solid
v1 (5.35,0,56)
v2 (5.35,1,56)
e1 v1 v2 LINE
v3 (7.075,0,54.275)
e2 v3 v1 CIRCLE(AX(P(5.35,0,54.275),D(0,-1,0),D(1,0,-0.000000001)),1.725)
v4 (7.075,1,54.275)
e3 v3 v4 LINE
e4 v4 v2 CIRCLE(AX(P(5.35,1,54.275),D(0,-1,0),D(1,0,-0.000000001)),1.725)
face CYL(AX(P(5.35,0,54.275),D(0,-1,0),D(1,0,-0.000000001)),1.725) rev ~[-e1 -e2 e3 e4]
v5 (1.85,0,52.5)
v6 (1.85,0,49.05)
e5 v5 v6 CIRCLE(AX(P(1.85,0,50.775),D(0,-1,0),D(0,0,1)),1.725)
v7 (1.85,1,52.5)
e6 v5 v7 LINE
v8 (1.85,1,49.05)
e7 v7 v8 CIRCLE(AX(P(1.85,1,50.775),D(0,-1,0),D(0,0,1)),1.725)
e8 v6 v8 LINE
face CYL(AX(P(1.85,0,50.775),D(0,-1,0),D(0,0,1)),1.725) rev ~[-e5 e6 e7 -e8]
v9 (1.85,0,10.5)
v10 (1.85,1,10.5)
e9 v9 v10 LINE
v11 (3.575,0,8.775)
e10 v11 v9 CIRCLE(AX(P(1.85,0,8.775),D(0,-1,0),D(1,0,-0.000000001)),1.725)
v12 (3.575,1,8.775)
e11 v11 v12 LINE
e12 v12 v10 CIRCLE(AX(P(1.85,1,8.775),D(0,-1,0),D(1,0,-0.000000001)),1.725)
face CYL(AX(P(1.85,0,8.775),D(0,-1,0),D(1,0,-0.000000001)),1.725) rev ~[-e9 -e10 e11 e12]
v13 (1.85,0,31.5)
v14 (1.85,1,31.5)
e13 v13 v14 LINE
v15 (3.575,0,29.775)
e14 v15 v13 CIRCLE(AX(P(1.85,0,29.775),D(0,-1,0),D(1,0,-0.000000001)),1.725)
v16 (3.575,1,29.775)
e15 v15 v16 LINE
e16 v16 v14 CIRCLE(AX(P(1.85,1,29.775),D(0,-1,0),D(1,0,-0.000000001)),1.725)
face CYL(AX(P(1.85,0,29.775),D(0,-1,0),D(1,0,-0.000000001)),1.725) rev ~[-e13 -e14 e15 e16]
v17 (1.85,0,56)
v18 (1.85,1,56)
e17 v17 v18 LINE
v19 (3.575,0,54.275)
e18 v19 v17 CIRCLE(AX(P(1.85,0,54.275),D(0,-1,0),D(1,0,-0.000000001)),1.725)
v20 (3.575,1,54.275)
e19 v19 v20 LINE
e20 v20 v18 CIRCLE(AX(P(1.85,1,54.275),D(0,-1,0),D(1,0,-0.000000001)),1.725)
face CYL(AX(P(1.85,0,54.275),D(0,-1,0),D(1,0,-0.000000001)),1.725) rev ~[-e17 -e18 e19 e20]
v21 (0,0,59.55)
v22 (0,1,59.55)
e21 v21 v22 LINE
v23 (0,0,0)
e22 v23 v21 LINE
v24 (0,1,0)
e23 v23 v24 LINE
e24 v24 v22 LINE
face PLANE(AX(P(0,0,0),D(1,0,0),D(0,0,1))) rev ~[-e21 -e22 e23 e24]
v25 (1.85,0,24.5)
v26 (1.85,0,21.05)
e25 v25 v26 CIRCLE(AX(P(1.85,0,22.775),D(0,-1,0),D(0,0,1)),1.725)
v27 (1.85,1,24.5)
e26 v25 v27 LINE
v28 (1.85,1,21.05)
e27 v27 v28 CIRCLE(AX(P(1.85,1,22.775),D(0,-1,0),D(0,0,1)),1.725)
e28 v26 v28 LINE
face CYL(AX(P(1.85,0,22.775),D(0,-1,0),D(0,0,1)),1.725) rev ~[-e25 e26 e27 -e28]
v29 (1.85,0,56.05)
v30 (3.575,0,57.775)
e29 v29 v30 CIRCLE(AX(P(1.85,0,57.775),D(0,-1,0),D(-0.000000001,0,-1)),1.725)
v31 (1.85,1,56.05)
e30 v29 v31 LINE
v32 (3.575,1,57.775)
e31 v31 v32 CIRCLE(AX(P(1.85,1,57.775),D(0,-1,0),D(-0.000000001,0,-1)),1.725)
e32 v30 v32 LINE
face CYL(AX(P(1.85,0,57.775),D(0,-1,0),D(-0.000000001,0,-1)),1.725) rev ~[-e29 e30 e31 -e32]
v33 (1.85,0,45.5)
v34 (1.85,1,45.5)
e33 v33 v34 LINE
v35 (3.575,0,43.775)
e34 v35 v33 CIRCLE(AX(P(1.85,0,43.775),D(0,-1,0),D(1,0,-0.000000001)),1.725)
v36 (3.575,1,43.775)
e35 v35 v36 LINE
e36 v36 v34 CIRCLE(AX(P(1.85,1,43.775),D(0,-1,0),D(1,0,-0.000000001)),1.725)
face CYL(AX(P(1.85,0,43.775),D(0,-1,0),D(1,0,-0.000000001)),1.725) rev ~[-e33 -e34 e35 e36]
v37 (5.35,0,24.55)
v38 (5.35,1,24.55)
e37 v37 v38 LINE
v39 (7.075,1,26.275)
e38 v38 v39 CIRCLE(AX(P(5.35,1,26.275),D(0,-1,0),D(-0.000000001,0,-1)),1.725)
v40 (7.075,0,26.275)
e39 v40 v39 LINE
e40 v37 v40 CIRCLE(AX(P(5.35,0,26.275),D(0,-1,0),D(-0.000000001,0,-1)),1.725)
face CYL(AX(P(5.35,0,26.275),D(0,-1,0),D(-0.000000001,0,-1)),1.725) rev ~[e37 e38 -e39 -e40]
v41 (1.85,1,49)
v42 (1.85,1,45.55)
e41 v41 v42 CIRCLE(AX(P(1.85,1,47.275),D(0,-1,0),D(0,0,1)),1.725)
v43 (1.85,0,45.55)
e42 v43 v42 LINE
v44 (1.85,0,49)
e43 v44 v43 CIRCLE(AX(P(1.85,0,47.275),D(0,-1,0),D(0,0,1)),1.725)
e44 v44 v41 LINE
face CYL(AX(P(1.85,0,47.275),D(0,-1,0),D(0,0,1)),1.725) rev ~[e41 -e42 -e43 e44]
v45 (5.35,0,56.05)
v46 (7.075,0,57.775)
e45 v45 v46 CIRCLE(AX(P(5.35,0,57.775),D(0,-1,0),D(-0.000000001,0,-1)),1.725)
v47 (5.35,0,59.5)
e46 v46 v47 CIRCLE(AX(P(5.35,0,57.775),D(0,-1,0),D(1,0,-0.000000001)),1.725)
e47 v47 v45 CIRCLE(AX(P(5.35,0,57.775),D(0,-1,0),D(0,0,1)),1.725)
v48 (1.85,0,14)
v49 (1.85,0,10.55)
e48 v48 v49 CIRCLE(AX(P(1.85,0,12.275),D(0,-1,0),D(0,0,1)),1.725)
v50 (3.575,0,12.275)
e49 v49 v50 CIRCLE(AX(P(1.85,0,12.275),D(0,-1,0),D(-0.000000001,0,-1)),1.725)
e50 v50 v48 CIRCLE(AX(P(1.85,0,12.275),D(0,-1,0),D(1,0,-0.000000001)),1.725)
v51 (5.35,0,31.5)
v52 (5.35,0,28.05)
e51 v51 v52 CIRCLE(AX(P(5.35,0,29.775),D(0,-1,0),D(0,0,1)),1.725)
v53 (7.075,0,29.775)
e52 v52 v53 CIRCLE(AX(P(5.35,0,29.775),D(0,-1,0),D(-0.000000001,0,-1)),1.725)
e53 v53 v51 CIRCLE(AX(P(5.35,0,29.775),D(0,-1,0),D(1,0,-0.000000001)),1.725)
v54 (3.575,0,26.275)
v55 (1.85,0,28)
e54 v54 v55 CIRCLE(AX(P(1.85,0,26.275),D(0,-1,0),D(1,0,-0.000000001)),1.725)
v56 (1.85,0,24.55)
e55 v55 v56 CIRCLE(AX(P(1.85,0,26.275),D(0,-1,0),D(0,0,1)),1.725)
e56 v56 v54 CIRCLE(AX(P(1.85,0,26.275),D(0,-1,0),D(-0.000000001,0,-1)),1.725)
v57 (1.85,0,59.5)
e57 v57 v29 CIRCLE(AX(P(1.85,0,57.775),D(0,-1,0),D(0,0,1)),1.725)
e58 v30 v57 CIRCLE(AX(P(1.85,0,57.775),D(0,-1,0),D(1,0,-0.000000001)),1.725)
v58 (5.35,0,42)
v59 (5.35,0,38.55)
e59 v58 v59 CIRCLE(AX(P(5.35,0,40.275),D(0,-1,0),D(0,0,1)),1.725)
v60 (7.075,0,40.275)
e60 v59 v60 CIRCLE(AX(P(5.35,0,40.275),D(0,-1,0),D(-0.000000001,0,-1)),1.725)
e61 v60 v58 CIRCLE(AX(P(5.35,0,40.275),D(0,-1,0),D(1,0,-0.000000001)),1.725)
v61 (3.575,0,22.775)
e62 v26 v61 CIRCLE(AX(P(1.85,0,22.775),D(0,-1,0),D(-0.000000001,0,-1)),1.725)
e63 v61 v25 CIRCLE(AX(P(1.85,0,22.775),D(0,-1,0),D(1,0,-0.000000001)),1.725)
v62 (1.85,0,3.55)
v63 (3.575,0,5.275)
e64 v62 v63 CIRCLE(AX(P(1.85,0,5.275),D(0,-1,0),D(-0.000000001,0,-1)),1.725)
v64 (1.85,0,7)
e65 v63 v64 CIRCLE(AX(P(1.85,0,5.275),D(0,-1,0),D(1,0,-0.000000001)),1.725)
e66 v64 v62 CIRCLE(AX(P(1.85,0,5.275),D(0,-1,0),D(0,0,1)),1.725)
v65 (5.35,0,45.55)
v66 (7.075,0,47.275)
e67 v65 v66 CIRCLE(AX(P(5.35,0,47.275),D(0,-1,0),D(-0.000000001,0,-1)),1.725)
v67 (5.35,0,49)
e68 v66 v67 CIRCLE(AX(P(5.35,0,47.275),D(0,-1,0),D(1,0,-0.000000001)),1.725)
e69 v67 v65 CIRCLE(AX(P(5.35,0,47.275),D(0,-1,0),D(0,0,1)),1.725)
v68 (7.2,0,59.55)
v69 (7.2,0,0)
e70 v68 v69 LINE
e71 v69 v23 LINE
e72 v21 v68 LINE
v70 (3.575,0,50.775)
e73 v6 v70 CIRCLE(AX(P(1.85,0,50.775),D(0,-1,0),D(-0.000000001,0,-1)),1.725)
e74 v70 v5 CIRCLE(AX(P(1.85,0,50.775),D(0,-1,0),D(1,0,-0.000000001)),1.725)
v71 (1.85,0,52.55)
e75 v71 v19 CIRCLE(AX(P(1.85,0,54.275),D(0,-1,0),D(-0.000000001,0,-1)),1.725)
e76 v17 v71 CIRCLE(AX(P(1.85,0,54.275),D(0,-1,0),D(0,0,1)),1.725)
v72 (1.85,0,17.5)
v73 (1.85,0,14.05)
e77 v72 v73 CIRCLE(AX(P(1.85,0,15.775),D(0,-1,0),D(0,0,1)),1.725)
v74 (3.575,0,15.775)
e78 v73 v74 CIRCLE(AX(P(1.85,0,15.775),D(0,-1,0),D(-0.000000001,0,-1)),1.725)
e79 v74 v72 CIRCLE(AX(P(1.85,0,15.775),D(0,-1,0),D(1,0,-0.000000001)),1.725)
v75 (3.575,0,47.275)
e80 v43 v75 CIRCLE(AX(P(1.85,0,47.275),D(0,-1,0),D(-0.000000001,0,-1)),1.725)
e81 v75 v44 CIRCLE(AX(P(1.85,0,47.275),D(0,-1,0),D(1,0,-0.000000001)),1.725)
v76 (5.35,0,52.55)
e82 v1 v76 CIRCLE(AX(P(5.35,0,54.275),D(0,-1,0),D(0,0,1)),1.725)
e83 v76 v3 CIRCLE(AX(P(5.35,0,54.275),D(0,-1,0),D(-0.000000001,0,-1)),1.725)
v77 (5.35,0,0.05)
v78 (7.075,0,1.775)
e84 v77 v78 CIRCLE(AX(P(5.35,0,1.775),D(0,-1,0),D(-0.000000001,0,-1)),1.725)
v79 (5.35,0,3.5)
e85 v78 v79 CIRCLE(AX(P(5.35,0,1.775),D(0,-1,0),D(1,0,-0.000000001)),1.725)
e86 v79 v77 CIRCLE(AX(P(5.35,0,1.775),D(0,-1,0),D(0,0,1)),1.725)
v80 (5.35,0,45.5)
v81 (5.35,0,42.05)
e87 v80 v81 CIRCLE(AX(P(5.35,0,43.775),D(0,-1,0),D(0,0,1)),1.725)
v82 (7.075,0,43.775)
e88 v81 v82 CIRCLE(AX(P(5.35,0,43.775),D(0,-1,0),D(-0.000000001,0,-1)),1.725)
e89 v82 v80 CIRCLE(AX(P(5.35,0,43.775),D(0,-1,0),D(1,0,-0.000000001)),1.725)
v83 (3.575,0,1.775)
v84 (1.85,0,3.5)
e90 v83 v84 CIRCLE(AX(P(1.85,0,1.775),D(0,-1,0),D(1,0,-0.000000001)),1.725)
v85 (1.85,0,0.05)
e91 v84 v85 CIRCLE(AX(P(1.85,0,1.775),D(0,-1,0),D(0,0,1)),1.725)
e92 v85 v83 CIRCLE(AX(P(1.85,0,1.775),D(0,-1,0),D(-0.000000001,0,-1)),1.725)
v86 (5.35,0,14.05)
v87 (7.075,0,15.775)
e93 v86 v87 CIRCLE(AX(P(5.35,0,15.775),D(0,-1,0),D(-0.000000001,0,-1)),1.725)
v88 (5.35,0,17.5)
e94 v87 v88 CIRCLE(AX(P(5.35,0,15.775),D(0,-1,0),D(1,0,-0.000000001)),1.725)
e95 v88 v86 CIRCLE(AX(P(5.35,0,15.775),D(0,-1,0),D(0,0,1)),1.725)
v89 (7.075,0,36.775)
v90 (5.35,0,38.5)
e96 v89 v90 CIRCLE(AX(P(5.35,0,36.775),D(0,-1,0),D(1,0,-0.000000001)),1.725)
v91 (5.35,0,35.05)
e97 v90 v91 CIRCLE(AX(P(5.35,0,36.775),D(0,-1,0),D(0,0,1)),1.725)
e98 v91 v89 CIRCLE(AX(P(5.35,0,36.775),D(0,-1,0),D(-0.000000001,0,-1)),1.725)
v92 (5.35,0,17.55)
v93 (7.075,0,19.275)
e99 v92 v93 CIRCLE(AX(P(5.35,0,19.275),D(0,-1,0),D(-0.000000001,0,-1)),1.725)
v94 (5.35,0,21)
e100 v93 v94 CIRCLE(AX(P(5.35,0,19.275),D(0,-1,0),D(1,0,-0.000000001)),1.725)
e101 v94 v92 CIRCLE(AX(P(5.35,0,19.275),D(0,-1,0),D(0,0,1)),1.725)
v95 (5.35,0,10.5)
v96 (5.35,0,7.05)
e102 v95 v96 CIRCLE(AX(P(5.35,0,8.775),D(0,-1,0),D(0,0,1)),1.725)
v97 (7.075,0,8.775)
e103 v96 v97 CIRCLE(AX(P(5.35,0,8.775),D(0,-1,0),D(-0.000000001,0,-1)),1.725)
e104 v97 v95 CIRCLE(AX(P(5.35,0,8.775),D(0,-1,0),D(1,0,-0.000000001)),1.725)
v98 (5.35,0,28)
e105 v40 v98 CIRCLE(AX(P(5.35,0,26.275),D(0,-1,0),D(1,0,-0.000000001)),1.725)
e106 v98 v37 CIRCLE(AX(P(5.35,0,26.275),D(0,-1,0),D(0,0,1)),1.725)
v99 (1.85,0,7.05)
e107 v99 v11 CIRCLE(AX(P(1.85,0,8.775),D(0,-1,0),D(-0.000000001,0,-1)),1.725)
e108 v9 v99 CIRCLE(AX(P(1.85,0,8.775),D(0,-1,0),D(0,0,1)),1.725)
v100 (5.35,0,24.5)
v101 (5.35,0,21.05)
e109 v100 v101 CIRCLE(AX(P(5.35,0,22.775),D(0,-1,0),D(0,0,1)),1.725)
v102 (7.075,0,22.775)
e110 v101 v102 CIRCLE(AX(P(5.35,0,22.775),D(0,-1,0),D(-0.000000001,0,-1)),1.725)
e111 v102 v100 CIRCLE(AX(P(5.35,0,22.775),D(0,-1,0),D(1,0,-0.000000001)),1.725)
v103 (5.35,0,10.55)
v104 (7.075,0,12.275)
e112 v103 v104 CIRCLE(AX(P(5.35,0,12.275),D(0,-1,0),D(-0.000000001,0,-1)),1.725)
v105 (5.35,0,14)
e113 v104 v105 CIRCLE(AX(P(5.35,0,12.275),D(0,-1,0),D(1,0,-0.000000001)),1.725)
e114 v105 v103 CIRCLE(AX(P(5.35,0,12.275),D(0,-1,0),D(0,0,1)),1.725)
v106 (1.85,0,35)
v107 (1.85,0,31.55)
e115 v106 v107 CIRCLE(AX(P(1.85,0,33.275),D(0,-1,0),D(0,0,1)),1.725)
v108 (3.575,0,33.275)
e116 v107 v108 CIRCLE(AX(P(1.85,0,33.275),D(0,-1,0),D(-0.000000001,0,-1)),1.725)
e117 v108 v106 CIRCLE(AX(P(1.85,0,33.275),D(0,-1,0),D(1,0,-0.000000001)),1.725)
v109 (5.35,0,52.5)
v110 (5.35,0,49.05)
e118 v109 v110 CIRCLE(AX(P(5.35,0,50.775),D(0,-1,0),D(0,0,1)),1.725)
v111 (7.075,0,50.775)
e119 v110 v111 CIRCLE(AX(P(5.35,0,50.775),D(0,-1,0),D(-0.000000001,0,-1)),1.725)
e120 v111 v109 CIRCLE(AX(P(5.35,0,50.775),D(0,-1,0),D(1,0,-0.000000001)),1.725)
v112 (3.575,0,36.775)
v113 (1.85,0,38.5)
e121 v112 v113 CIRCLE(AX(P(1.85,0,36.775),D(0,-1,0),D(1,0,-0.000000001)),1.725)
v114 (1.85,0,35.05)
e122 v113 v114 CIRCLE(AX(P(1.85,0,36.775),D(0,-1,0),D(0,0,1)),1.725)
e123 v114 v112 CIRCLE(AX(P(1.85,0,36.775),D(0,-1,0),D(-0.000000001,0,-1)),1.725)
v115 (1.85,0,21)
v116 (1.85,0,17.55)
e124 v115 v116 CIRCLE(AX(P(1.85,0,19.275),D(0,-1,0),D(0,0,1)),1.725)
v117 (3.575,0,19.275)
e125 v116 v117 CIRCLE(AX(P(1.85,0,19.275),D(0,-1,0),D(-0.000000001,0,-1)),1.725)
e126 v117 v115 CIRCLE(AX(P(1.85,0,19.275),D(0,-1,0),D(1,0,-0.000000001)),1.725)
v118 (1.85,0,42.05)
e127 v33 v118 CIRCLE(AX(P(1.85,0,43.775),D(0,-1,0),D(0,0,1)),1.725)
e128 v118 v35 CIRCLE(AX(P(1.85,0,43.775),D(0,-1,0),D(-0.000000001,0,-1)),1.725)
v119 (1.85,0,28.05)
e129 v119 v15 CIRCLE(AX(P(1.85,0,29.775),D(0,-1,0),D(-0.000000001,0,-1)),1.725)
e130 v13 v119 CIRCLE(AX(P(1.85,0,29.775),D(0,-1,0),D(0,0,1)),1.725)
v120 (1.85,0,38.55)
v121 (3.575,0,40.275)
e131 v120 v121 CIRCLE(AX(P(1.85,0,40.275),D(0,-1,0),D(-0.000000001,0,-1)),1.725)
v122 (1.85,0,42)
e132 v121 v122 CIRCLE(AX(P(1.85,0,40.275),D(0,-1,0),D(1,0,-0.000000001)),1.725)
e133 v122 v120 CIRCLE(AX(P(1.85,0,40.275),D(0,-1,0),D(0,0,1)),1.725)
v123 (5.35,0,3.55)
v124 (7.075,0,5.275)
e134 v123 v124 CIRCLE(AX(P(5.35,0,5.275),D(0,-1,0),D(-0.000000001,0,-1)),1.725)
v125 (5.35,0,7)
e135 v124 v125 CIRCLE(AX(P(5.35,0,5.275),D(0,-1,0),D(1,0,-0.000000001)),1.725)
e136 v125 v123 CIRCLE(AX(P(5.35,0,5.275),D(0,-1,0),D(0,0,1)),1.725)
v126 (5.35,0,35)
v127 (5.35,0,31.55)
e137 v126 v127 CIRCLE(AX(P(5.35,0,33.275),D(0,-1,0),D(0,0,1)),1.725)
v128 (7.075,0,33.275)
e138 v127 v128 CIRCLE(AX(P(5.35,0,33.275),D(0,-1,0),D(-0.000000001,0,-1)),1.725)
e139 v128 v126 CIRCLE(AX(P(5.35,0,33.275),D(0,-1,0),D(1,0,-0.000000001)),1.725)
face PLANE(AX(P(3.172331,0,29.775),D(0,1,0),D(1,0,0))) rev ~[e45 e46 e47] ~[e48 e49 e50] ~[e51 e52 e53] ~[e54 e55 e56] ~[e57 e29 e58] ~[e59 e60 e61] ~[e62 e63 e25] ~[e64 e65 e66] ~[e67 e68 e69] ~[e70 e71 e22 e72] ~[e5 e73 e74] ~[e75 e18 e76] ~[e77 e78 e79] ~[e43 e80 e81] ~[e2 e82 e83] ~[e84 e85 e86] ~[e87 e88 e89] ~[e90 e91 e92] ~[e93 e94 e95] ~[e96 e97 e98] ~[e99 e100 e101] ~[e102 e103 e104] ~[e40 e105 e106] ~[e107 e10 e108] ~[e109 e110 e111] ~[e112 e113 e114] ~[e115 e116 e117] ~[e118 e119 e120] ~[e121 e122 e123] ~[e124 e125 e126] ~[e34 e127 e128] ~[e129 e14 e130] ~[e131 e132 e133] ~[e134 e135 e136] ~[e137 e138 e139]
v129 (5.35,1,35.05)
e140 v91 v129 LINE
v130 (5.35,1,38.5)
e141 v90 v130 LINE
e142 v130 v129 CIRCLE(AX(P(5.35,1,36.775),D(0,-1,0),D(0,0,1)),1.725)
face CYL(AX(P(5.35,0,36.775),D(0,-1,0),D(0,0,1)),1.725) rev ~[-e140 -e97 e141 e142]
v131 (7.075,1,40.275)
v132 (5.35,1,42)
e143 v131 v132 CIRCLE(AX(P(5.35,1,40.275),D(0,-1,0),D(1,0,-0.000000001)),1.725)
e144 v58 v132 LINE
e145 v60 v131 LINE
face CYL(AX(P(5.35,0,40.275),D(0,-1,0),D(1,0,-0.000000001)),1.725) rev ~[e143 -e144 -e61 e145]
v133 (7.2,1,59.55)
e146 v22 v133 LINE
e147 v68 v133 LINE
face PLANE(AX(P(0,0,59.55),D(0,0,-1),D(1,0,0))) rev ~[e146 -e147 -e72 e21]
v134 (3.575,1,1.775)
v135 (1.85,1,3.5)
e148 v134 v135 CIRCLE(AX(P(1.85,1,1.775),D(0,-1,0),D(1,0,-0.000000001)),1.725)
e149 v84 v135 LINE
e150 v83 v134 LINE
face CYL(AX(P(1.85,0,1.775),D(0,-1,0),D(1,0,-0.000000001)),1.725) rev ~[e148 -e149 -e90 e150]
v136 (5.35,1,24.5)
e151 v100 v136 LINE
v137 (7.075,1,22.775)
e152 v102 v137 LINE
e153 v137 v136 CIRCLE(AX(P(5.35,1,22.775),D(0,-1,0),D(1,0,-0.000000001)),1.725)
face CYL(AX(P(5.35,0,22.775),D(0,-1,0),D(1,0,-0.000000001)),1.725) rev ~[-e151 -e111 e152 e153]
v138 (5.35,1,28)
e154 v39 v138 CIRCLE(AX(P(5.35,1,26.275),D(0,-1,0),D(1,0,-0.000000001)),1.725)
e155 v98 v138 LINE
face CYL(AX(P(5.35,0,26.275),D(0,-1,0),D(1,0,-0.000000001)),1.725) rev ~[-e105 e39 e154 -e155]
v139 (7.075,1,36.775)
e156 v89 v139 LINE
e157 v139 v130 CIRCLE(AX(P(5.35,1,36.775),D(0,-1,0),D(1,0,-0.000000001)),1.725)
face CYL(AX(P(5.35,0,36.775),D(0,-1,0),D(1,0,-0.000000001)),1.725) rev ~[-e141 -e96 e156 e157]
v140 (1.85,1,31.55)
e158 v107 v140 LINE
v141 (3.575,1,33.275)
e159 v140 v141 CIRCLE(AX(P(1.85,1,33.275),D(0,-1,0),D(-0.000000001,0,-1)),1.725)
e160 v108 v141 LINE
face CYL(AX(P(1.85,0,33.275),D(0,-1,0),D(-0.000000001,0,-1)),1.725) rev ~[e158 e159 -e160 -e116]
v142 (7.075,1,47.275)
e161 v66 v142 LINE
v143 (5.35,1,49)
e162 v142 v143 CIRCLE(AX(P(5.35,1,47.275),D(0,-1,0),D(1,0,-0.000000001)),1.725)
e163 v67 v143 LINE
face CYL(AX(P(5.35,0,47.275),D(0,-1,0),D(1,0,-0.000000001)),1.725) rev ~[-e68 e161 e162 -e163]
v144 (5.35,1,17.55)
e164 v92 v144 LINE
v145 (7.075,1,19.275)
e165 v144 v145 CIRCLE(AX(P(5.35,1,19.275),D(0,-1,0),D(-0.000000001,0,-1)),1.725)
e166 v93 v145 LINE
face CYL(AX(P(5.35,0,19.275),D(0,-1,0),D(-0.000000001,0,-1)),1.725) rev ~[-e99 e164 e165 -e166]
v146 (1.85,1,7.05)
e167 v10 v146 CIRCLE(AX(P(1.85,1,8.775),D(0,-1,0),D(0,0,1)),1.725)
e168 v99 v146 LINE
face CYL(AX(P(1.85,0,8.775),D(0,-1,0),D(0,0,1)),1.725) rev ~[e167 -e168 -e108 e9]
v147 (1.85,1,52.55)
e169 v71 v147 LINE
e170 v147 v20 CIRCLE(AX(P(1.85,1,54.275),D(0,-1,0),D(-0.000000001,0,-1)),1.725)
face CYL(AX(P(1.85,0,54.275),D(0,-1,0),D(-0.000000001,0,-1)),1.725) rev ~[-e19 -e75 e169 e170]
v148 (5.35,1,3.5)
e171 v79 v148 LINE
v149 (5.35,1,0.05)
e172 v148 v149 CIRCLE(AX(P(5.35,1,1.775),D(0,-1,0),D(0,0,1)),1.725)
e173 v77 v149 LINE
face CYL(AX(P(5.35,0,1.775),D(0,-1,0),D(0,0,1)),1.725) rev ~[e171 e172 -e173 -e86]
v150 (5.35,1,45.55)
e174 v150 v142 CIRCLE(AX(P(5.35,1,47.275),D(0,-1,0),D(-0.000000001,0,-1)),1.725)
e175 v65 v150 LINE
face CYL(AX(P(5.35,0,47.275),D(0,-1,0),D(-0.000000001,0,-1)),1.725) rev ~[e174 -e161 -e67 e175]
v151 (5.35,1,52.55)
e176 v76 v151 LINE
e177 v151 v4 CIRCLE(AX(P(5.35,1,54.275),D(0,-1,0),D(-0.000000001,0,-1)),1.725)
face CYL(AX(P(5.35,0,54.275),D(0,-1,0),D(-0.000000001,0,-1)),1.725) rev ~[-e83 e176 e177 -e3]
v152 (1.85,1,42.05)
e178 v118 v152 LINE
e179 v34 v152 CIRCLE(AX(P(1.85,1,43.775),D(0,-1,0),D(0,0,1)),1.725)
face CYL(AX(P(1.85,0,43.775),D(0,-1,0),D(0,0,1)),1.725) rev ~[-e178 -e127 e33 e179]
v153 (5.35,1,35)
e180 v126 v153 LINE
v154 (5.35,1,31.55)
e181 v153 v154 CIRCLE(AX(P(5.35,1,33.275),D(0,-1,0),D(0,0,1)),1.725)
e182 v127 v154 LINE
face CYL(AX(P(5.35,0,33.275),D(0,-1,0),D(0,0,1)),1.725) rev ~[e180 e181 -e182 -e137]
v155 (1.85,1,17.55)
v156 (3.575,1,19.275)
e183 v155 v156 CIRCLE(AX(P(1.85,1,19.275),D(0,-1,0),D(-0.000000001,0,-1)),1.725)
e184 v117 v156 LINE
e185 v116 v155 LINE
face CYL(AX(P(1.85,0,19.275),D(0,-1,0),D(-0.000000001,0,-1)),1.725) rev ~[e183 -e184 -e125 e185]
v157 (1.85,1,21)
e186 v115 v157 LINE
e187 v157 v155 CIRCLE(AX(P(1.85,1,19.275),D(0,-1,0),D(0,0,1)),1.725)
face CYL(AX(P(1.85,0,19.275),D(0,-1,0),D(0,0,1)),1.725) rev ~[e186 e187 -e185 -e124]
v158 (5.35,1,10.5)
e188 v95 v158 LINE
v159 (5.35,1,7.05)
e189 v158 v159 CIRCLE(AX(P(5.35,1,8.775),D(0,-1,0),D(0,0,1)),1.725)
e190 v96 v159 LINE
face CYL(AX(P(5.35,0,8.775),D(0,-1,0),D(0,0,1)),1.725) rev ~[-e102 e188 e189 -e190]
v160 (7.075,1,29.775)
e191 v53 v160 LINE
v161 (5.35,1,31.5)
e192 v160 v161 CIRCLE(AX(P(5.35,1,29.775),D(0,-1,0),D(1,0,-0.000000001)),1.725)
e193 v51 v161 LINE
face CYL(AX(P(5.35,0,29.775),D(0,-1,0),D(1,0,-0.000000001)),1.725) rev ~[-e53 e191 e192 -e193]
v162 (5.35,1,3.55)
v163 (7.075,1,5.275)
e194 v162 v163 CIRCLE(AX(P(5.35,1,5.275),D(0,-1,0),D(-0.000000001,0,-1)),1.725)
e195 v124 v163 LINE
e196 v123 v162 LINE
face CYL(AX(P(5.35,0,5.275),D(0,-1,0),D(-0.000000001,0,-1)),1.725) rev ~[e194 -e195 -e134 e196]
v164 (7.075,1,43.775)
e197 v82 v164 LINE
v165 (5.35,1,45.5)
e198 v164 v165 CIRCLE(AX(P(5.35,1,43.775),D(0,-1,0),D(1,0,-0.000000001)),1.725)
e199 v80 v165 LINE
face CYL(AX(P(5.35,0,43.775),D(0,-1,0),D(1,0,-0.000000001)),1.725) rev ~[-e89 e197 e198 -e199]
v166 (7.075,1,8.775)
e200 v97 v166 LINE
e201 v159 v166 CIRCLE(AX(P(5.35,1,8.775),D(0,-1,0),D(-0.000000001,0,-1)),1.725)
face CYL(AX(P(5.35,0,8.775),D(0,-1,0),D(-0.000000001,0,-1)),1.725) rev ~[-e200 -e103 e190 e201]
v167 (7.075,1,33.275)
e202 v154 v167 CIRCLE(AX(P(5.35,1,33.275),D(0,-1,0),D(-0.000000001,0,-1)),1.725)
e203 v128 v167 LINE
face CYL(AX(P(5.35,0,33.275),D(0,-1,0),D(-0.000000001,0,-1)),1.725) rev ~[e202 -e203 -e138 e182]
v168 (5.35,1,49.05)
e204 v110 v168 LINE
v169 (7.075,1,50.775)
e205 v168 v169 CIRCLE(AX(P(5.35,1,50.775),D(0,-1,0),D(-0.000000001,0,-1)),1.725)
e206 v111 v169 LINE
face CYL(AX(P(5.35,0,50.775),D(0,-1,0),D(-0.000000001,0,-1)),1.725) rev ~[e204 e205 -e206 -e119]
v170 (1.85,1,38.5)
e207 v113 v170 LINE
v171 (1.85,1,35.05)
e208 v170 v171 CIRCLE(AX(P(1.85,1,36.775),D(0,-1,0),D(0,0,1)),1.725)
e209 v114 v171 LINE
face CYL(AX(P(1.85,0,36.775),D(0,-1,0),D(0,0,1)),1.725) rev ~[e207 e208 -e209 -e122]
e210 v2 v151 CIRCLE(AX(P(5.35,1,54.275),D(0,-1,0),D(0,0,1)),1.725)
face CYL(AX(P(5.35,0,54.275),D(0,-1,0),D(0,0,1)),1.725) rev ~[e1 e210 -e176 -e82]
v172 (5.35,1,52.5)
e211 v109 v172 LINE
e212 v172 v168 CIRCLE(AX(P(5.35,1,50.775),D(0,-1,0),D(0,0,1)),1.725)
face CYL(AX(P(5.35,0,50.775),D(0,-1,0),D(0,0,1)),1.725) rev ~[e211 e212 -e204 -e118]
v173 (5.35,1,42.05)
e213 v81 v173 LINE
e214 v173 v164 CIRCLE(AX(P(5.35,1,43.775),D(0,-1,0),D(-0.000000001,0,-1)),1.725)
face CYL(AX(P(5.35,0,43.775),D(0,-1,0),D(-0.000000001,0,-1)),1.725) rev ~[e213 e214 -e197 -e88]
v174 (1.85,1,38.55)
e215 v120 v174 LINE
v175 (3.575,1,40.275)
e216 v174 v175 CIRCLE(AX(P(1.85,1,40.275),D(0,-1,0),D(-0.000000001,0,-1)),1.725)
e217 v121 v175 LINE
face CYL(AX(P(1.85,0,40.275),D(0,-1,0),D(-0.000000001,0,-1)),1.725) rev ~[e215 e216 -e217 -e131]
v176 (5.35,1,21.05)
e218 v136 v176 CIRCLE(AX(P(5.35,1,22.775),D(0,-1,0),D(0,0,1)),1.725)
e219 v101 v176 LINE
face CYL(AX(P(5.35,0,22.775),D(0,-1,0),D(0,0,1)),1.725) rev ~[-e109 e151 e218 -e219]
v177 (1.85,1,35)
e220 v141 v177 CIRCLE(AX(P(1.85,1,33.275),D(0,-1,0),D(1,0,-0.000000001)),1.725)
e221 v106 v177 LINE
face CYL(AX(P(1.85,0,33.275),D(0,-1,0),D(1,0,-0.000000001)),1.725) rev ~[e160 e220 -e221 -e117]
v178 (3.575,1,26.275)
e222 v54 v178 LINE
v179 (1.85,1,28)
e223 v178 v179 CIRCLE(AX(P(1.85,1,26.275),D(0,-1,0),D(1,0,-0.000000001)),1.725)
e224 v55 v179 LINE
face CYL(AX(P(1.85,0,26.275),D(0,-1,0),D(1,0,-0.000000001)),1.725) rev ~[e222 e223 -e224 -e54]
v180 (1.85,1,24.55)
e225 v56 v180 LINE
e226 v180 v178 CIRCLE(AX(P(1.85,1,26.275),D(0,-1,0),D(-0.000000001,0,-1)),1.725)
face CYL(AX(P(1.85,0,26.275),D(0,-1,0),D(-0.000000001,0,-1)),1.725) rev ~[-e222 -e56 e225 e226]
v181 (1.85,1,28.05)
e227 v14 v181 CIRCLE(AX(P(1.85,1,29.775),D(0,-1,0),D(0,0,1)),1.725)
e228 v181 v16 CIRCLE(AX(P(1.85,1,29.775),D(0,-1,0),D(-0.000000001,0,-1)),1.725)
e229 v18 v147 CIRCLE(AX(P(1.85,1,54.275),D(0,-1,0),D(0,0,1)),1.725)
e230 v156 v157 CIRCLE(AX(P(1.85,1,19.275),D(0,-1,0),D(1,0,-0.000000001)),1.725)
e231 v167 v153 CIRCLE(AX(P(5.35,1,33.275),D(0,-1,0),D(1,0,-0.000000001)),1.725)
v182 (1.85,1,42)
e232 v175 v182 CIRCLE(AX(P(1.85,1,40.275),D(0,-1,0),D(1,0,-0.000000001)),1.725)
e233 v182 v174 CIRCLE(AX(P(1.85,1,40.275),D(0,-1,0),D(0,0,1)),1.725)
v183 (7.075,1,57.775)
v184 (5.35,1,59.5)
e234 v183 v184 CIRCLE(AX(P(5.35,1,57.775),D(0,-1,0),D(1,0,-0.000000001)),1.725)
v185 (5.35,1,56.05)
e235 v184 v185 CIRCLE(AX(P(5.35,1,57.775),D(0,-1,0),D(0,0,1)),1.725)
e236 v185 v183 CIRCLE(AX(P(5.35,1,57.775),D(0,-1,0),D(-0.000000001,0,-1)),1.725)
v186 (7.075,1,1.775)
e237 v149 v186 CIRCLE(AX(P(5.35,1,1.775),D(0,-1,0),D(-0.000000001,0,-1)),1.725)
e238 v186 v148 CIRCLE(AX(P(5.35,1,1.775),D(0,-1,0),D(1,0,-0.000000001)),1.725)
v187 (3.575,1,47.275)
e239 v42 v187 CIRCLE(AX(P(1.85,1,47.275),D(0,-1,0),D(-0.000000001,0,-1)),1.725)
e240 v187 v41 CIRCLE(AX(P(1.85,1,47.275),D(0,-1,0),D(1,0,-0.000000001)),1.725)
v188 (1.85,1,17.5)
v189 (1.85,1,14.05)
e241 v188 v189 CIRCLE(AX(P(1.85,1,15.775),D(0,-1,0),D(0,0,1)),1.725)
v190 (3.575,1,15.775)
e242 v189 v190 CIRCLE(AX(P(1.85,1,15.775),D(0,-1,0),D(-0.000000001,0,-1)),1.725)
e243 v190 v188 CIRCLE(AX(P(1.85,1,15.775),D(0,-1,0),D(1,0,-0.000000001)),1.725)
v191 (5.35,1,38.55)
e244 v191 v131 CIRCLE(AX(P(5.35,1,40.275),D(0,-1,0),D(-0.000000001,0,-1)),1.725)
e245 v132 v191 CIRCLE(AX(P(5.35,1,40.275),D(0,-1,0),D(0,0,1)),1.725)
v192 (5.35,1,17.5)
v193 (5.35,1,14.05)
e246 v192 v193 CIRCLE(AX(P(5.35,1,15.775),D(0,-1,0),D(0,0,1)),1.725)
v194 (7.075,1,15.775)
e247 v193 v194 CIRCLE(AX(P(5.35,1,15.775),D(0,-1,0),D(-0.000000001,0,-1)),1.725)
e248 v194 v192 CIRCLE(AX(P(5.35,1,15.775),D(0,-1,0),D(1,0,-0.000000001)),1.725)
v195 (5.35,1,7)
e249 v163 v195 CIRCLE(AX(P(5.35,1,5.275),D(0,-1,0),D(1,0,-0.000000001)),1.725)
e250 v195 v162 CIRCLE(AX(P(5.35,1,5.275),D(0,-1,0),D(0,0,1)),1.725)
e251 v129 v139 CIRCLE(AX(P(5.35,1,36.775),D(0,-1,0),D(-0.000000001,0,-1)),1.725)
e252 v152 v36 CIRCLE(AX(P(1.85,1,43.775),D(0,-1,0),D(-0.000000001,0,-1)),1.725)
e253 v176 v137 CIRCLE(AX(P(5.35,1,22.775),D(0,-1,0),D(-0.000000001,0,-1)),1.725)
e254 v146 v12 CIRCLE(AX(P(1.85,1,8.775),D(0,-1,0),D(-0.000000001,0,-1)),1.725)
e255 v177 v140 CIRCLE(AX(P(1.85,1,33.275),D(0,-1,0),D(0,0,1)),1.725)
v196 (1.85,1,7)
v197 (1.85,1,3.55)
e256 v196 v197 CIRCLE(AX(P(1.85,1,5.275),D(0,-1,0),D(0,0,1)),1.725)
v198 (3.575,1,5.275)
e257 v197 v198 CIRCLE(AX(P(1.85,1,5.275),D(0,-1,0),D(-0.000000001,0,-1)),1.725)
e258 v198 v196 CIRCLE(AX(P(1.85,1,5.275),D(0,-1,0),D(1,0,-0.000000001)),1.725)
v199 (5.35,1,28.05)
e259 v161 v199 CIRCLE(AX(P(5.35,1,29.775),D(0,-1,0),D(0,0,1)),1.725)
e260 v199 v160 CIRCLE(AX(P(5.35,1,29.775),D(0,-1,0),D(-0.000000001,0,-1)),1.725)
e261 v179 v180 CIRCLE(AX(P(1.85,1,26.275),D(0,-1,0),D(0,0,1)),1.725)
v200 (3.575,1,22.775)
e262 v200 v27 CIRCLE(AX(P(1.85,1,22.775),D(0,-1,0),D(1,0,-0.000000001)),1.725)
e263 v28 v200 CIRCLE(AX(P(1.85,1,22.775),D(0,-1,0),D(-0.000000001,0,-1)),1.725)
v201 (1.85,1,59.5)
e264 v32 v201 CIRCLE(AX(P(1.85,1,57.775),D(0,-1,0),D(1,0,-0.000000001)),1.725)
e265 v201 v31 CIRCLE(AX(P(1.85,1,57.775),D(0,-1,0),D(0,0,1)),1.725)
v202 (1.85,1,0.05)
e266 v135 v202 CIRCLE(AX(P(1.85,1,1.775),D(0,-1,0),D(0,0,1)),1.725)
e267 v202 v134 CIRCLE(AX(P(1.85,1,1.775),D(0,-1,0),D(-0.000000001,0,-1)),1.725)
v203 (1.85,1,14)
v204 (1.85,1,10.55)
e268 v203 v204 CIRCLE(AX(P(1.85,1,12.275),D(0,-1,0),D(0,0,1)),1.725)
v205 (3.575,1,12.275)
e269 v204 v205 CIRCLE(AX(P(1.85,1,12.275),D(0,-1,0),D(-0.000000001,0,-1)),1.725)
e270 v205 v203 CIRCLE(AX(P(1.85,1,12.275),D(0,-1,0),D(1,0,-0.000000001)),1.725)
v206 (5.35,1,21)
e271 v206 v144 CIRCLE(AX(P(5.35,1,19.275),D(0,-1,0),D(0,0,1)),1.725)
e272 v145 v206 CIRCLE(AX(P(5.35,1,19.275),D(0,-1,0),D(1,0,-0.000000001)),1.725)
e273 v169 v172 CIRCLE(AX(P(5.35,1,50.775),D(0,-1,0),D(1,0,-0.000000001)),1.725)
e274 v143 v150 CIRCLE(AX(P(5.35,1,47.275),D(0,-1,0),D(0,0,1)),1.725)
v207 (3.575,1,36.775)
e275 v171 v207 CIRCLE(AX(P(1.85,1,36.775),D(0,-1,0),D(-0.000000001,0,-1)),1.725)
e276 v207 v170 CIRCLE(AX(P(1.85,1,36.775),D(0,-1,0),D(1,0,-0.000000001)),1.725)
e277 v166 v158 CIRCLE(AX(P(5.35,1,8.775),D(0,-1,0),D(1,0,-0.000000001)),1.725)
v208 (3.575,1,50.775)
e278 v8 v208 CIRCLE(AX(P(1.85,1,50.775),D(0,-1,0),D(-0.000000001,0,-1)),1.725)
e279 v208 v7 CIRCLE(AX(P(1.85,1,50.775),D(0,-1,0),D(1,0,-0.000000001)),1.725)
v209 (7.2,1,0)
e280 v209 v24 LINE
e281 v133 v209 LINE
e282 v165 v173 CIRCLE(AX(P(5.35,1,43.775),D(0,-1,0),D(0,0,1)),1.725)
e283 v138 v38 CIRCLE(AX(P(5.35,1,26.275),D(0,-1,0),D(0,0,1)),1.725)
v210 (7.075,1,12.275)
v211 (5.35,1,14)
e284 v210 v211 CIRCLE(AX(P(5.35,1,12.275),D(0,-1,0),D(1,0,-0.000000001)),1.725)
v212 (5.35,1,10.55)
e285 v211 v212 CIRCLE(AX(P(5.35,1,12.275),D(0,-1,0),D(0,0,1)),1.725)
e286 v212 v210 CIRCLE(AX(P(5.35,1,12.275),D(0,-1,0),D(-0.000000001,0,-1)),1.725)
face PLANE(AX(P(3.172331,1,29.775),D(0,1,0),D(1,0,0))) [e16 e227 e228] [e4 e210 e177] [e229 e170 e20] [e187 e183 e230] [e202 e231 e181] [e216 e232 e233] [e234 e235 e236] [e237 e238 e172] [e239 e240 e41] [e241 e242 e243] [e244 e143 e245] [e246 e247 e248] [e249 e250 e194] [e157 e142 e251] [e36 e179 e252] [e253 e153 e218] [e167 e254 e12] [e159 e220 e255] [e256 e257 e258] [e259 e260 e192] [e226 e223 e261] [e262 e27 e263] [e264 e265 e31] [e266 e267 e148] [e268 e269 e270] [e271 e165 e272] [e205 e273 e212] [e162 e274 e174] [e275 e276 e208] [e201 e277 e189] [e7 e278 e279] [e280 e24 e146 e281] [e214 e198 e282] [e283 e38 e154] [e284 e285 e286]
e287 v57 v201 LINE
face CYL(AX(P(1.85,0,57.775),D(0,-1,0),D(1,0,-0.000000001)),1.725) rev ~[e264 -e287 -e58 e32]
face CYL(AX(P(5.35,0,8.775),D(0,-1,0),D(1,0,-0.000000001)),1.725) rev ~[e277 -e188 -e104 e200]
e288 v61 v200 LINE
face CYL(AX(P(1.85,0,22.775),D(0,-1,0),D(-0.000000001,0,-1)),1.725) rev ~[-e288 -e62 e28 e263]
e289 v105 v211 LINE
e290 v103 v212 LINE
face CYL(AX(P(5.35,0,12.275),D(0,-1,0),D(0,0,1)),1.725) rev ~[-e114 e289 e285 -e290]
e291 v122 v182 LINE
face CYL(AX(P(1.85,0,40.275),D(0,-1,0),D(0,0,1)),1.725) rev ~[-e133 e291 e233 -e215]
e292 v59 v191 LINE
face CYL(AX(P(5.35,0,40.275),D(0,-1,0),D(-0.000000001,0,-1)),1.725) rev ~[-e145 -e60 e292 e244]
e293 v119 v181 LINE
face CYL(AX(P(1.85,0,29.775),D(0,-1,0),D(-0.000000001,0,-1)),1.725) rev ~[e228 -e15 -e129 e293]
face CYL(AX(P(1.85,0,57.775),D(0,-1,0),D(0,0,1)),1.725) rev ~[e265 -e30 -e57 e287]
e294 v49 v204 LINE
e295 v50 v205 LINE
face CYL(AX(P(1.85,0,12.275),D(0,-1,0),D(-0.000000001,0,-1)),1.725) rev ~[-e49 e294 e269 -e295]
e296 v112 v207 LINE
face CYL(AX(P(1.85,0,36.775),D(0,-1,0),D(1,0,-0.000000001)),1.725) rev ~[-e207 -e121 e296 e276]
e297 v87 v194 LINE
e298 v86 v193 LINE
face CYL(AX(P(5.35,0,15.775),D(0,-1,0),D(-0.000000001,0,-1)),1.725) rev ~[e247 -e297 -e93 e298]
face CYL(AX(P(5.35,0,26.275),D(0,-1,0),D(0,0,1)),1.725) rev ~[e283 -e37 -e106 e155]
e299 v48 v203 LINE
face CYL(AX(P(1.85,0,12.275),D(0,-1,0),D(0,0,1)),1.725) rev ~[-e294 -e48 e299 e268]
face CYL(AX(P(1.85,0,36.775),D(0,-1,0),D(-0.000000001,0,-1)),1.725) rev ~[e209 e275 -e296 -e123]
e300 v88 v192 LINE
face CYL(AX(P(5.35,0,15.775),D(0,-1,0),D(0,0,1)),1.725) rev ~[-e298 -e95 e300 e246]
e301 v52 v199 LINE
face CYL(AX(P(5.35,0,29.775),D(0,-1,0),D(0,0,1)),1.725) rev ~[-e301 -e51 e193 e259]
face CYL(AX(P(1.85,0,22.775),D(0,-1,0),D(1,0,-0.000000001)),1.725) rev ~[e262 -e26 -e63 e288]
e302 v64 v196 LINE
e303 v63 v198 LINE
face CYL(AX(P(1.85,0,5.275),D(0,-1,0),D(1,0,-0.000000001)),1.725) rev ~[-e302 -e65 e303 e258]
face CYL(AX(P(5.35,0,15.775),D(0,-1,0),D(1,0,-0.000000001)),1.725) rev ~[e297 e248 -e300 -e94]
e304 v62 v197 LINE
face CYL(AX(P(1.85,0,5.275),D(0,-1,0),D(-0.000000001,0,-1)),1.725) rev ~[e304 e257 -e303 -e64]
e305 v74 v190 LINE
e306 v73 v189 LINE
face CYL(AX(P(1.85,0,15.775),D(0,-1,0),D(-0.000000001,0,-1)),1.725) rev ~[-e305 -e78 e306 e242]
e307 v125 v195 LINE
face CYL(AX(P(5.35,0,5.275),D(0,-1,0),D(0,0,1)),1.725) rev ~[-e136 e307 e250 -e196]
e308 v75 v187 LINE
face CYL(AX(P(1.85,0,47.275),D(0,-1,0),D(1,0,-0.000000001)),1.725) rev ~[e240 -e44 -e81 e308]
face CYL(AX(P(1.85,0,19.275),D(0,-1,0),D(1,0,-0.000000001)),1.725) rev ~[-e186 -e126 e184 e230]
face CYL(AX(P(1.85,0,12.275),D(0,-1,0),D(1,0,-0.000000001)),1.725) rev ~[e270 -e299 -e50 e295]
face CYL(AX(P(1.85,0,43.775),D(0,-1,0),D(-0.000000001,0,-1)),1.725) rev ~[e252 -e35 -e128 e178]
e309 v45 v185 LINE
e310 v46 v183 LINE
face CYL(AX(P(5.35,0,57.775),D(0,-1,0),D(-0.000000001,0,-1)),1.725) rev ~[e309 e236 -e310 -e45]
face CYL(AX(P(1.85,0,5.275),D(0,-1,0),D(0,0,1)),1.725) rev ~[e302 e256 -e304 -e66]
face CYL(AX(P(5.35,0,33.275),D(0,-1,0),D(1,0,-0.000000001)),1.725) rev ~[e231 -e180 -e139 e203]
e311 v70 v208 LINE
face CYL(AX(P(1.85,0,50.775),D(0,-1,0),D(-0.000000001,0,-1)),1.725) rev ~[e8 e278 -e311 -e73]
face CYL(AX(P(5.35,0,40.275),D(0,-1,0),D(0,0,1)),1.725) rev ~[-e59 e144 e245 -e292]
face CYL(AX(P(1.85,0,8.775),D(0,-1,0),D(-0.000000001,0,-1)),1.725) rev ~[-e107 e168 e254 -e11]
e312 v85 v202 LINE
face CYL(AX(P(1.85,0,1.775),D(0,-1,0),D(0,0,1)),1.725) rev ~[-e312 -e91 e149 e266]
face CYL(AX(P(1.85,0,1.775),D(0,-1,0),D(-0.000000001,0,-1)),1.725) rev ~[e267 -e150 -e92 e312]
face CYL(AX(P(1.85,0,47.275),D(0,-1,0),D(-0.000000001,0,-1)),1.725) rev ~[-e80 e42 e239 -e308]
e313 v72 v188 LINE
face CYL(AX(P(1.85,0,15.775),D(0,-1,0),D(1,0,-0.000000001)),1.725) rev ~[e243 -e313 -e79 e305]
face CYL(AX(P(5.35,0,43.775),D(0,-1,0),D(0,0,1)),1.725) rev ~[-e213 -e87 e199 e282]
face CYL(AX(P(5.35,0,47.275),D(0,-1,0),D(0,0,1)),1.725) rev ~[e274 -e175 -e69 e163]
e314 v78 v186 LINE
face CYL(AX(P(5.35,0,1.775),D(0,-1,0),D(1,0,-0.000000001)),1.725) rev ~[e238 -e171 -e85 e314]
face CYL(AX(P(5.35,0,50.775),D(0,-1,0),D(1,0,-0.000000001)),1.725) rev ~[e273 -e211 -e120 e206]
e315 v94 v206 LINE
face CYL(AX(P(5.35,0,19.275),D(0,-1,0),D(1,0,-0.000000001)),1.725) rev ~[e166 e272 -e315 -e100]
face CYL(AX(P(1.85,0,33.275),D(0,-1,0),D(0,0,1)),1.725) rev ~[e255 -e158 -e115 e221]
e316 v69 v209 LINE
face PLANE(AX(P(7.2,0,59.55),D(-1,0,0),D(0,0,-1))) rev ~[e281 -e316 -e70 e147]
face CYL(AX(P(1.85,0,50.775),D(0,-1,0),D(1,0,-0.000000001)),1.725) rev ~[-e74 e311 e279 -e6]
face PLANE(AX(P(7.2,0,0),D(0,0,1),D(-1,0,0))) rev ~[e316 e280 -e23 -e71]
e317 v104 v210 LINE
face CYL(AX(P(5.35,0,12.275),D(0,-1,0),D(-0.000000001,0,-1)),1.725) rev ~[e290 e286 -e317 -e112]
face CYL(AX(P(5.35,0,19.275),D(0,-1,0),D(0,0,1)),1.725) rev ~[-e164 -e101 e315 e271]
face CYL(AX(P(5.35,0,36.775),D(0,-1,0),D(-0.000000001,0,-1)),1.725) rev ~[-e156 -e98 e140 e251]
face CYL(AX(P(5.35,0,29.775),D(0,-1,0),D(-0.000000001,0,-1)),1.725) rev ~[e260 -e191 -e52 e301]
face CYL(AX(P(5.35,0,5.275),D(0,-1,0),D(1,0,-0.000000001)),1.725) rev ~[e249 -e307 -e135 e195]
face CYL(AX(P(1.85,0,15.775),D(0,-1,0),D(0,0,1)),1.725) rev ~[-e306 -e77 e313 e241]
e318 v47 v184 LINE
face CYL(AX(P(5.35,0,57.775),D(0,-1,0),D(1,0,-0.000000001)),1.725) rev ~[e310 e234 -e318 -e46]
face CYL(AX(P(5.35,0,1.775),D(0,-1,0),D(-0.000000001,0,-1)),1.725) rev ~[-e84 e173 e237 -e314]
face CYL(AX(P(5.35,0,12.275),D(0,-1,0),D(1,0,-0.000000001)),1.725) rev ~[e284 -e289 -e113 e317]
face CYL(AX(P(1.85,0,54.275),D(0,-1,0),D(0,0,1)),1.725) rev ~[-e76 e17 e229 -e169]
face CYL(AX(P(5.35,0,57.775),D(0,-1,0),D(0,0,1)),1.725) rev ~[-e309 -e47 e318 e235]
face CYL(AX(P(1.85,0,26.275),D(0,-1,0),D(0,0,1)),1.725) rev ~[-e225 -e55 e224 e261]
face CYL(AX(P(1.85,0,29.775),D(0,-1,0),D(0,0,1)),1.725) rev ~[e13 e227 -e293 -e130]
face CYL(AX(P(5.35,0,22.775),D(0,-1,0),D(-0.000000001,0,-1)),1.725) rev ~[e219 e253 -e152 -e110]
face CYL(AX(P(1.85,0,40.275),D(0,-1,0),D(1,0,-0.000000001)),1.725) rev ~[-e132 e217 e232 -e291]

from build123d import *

# Parameters (mm, degrees)
BOSS_EXTRUDE1_DEPTH = 1


with BuildPart() as part:
    # Sketch1 → Boss-Extrude1 (new body)
    with BuildSketch(Plane(origin=(0, 0, 0), x_dir=(1, 0, 0), z_dir=(0, 1, 0))):
        with BuildLine():
            Line((1.85, -59.55), (3.6, -59.55))
            Line((3.6, -59.55), (3.6, 0))
            Line((3.6, 0), (1.85, 0))
            Line((1.85, 0), (1.85, -0.05))
            ThreePointArc((1.85, -0.05), (3.069759198, -0.555240802), (3.575, -1.775))
            ThreePointArc((3.575, -1.775), (3.069759198, -2.994759198), (1.85, -3.5))
            Line((1.85, -3.5), (1.85, -3.55))
            ThreePointArc((1.85, -3.55), (3.069759198, -4.055240802), (3.575, -5.275))
            ThreePointArc((3.575, -5.275), (3.069759198, -6.494759198), (1.85, -7))
            Line((1.85, -7), (1.85, -7.05))
            ThreePointArc((1.85, -7.05), (3.069759198, -7.555240802), (3.575, -8.775))
            ThreePointArc((3.575, -8.775), (3.069759198, -9.994759198), (1.85, -10.5))
            Line((1.85, -10.5), (1.85, -10.55))
            ThreePointArc((1.85, -10.55), (3.069759198, -11.055240802), (3.575, -12.275))
            ThreePointArc((3.575, -12.275), (3.069759198, -13.494759198), (1.85, -14))
            Line((1.85, -14), (1.85, -14.05))
            ThreePointArc((1.85, -14.05), (3.069759198, -14.555240802), (3.575, -15.775))
            ThreePointArc((3.575, -15.775), (3.069759198, -16.994759198), (1.85, -17.5))
            Line((1.85, -17.5), (1.85, -17.55))
            ThreePointArc((1.85, -17.55), (3.069759198, -18.055240802), (3.575, -19.275))
            ThreePointArc((3.575, -19.275), (3.069759198, -20.494759198), (1.85, -21))
            Line((1.85, -21), (1.85, -21.05))
            ThreePointArc((1.85, -21.05), (3.069759198, -21.555240802), (3.575, -22.775))
            ThreePointArc((3.575, -22.775), (3.069759198, -23.994759198), (1.85, -24.5))
            Line((1.85, -24.5), (1.85, -24.55))
            ThreePointArc((1.85, -24.55), (3.069759198, -25.055240802), (3.575, -26.275))
            ThreePointArc((3.575, -26.275), (3.069759198, -27.494759198), (1.85, -28))
            Line((1.85, -28), (1.85, -28.05))
            ThreePointArc((1.85, -28.05), (3.069759198, -28.555240802), (3.575, -29.775))
            ThreePointArc((3.575, -29.775), (3.069759198, -30.994759198), (1.85, -31.5))
            Line((1.85, -31.5), (1.85, -31.55))
            ThreePointArc((1.85, -31.55), (3.069759198, -32.055240802), (3.575, -33.275))
            ThreePointArc((3.575, -33.275), (3.069759198, -34.494759198), (1.85, -35))
            Line((1.85, -35), (1.85, -35.05))
            ThreePointArc((1.85, -35.05), (3.069759198, -35.555240802), (3.575, -36.775))
            ThreePointArc((3.575, -36.775), (3.069759198, -37.994759198), (1.85, -38.5))
            Line((1.85, -38.5), (1.85, -38.55))
            ThreePointArc((1.85, -38.55), (3.069759198, -39.055240802), (3.575, -40.275))
            ThreePointArc((3.575, -40.275), (3.069759198, -41.494759198), (1.85, -42))
            Line((1.85, -42), (1.85, -42.05))
            ThreePointArc((1.85, -42.05), (3.069759198, -42.555240802), (3.575, -43.775))
            ThreePointArc((3.575, -43.775), (3.069759198, -44.994759198), (1.85, -45.5))
            Line((1.85, -45.5), (1.85, -45.55))
            ThreePointArc((1.85, -45.55), (3.069759198, -46.055240802), (3.575, -47.275))
            ThreePointArc((3.575, -47.275), (3.069759198, -48.494759198), (1.85, -49))
            Line((1.85, -49), (1.85, -49.05))
            ThreePointArc((1.85, -49.05), (3.069759198, -49.555240802), (3.575, -50.775))
            ThreePointArc((3.575, -50.775), (3.069759198, -51.994759198), (1.85, -52.5))
            Line((1.85, -52.5), (1.85, -52.55))
            ThreePointArc((1.85, -52.55), (3.069759198, -53.055240802), (3.575, -54.275))
            ThreePointArc((3.575, -54.275), (3.069759198, -55.494759198), (1.85, -56))
            Line((1.85, -56), (1.85, -56.05))
            ThreePointArc((1.85, -56.05), (3.069759198, -56.555240802), (3.575, -57.775))
            ThreePointArc((3.575, -57.775), (3.069759198, -58.994759198), (1.85, -59.5))
            Line((1.85, -59.5), (1.85, -59.55))
        make_face()
        with BuildLine():
            Line((0, -59.55), (1.85, -59.55))
            Line((1.85, -59.55), (1.85, -59.5))
            ThreePointArc((1.85, -59.5), (0.125, -57.775), (1.85, -56.05))
            Line((1.85, -56.05), (1.85, -56))
            ThreePointArc((1.85, -56), (0.125, -54.275), (1.85, -52.55))
            Line((1.85, -52.55), (1.85, -52.5))
            ThreePointArc((1.85, -52.5), (0.125, -50.775), (1.85, -49.05))
            Line((1.85, -49.05), (1.85, -49))
            ThreePointArc((1.85, -49), (0.125, -47.275), (1.85, -45.55))
            Line((1.85, -45.55), (1.85, -45.5))
            ThreePointArc((1.85, -45.5), (0.125, -43.775), (1.85, -42.05))
            Line((1.85, -42.05), (1.85, -42))
            ThreePointArc((1.85, -42), (0.125, -40.275), (1.85, -38.55))
            Line((1.85, -38.55), (1.85, -38.5))
            ThreePointArc((1.85, -38.5), (0.125, -36.775), (1.85, -35.05))
            Line((1.85, -35.05), (1.85, -35))
            ThreePointArc((1.85, -35), (0.125, -33.275), (1.85, -31.55))
            Line((1.85, -31.55), (1.85, -31.5))
            ThreePointArc((1.85, -31.5), (0.125, -29.775), (1.85, -28.05))
            Line((1.85, -28.05), (1.85, -28))
            ThreePointArc((1.85, -28), (0.125, -26.275), (1.85, -24.55))
            Line((1.85, -24.55), (1.85, -24.5))
            ThreePointArc((1.85, -24.5), (0.125, -22.775), (1.85, -21.05))
            Line((1.85, -21.05), (1.85, -21))
            ThreePointArc((1.85, -21), (0.125, -19.275), (1.85, -17.55))
            Line((1.85, -17.55), (1.85, -17.5))
            ThreePointArc((1.85, -17.5), (0.125, -15.775), (1.85, -14.05))
            Line((1.85, -14.05), (1.85, -14))
            ThreePointArc((1.85, -14), (0.125, -12.275), (1.85, -10.55))
            Line((1.85, -10.55), (1.85, -10.5))
            ThreePointArc((1.85, -10.5), (0.125, -8.775), (1.85, -7.05))
            Line((1.85, -7.05), (1.85, -7))
            ThreePointArc((1.85, -7), (0.125, -5.275), (1.85, -3.55))
            Line((1.85, -3.55), (1.85, -3.5))
            ThreePointArc((1.85, -3.5), (0.125, -1.775), (1.85, -0.05))
            Line((1.85, -0.05), (1.85, 0))
            Line((1.85, 0), (0, 0))
            Line((0, 0), (0, -59.55))
        make_face()
        with BuildLine():
            Line((5.35, -59.5), (5.35, -59.55))
            Line((5.35, -59.55), (7.2, -59.55))
            Line((7.2, -59.55), (7.2, 0))
            Line((7.2, 0), (5.35, 0))
            Line((5.35, 0), (5.35, -0.05))
            ThreePointArc((5.35, -0.05), (6.569759198, -0.555240802), (7.075, -1.775))
            ThreePointArc((7.075, -1.775), (6.569759198, -2.994759198), (5.35, -3.5))
            Line((5.35, -3.5), (5.35, -3.55))
            ThreePointArc((5.35, -3.55), (6.569759198, -4.055240802), (7.075, -5.275))
            ThreePointArc((7.075, -5.275), (6.569759198, -6.494759198), (5.35, -7))
            Line((5.35, -7), (5.35, -7.05))
            ThreePointArc((5.35, -7.05), (6.569759198, -7.555240802), (7.075, -8.775))
            ThreePointArc((7.075, -8.775), (6.569759198, -9.994759198), (5.35, -10.5))
            Line((5.35, -10.5), (5.35, -10.55))
            ThreePointArc((5.35, -10.55), (6.569759198, -11.055240802), (7.075, -12.275))
            ThreePointArc((7.075, -12.275), (6.569759198, -13.494759198), (5.35, -14))
            Line((5.35, -14), (5.35, -14.05))
            ThreePointArc((5.35, -14.05), (6.569759198, -14.555240802), (7.075, -15.775))
            ThreePointArc((7.075, -15.775), (6.569759198, -16.994759198), (5.35, -17.5))
            Line((5.35, -17.5), (5.35, -17.55))
            ThreePointArc((5.35, -17.55), (6.569759198, -18.055240802), (7.075, -19.275))
            ThreePointArc((7.075, -19.275), (6.569759198, -20.494759198), (5.35, -21))
            Line((5.35, -21), (5.35, -21.05))
            ThreePointArc((5.35, -21.05), (6.569759198, -21.555240802), (7.075, -22.775))
            ThreePointArc((7.075, -22.775), (6.569759198, -23.994759198), (5.35, -24.5))
            Line((5.35, -24.5), (5.35, -24.55))
            ThreePointArc((5.35, -24.55), (6.569759198, -25.055240802), (7.075, -26.275))
            ThreePointArc((7.075, -26.275), (6.569759198, -27.494759198), (5.35, -28))
            Line((5.35, -28), (5.35, -28.05))
            ThreePointArc((5.35, -28.05), (6.569759198, -28.555240802), (7.075, -29.775))
            ThreePointArc((7.075, -29.775), (6.569759198, -30.994759198), (5.35, -31.5))
            Line((5.35, -31.5), (5.35, -31.55))
            ThreePointArc((5.35, -31.55), (6.569759198, -32.055240802), (7.075, -33.275))
            ThreePointArc((7.075, -33.275), (6.569759198, -34.494759198), (5.35, -35))
            Line((5.35, -35), (5.35, -35.05))
            ThreePointArc((5.35, -35.05), (6.569759198, -35.555240802), (7.075, -36.775))
            ThreePointArc((7.075, -36.775), (6.569759198, -37.994759198), (5.35, -38.5))
            Line((5.35, -38.5), (5.35, -38.55))
            ThreePointArc((5.35, -38.55), (6.569759198, -39.055240802), (7.075, -40.275))
            ThreePointArc((7.075, -40.275), (6.569759198, -41.494759198), (5.35, -42))
            Line((5.35, -42), (5.35, -42.05))
            ThreePointArc((5.35, -42.05), (6.569759198, -42.555240802), (7.075, -43.775))
            ThreePointArc((7.075, -43.775), (6.569759198, -44.994759198), (5.35, -45.5))
            Line((5.35, -45.5), (5.35, -45.55))
            ThreePointArc((5.35, -45.55), (6.569759198, -46.055240802), (7.075, -47.275))
            ThreePointArc((7.075, -47.275), (6.569759198, -48.494759198), (5.35, -49))
            Line((5.35, -49), (5.35, -49.05))
            ThreePointArc((5.35, -49.05), (6.569759198, -49.555240802), (7.075, -50.775))
            ThreePointArc((7.075, -50.775), (6.569759198, -51.994759198), (5.35, -52.5))
            Line((5.35, -52.5), (5.35, -52.55))
            ThreePointArc((5.35, -52.55), (6.569759198, -53.055240802), (7.075, -54.275))
            ThreePointArc((7.075, -54.275), (6.569759198, -55.494759198), (5.35, -56))
            Line((5.35, -56), (5.35, -56.05))
            ThreePointArc((5.35, -56.05), (6.569759198, -56.555240802), (7.075, -57.775))
            ThreePointArc((7.075, -57.775), (6.569759198, -58.994759198), (5.35, -59.5))
        make_face()
        with BuildLine():
            Line((3.6, 0), (3.6, -59.55))
            Line((3.6, -59.55), (5.35, -59.55))
            Line((5.35, -59.55), (5.35, -59.5))
            ThreePointArc((5.35, -59.5), (3.625, -57.775), (5.35, -56.05))
            Line((5.35, -56.05), (5.35, -56))
            ThreePointArc((5.35, -56), (3.625, -54.275), (5.35, -52.55))
            Line((5.35, -52.55), (5.35, -52.5))
            ThreePointArc((5.35, -52.5), (3.625, -50.775), (5.35, -49.05))
            Line((5.35, -49.05), (5.35, -49))
            ThreePointArc((5.35, -49), (3.625, -47.275), (5.35, -45.55))
            Line((5.35, -45.55), (5.35, -45.5))
            ThreePointArc((5.35, -45.5), (3.625, -43.775), (5.35, -42.05))
            Line((5.35, -42.05), (5.35, -42))
            ThreePointArc((5.35, -42), (3.625, -40.275), (5.35, -38.55))
            Line((5.35, -38.55), (5.35, -38.5))
            ThreePointArc((5.35, -38.5), (3.625, -36.775), (5.35, -35.05))
            Line((5.35, -35.05), (5.35, -35))
            ThreePointArc((5.35, -35), (3.625, -33.275), (5.35, -31.55))
            Line((5.35, -31.55), (5.35, -31.5))
            ThreePointArc((5.35, -31.5), (3.625, -29.775), (5.35, -28.05))
            Line((5.35, -28.05), (5.35, -28))
            ThreePointArc((5.35, -28), (3.625, -26.275), (5.35, -24.55))
            Line((5.35, -24.55), (5.35, -24.5))
            ThreePointArc((5.35, -24.5), (3.625, -22.775), (5.35, -21.05))
            Line((5.35, -21.05), (5.35, -21))
            ThreePointArc((5.35, -21), (3.625, -19.275), (5.35, -17.55))
            Line((5.35, -17.55), (5.35, -17.5))
            ThreePointArc((5.35, -17.5), (3.625, -15.775), (5.35, -14.05))
            Line((5.35, -14.05), (5.35, -14))
            ThreePointArc((5.35, -14), (3.625, -12.275), (5.35, -10.55))
            Line((5.35, -10.55), (5.35, -10.5))
            ThreePointArc((5.35, -10.5), (3.625, -8.775), (5.35, -7.05))
            Line((5.35, -7.05), (5.35, -7))
            ThreePointArc((5.35, -7), (3.625, -5.275), (5.35, -3.55))
            Line((5.35, -3.55), (5.35, -3.5))
            ThreePointArc((5.35, -3.5), (3.625, -1.775), (5.35, -0.05))
            Line((5.35, -0.05), (5.35, 0))
            Line((5.35, 0), (3.6, 0))
        make_face()
    extrude(amount=BOSS_EXTRUDE1_DEPTH)


solid = part.part
